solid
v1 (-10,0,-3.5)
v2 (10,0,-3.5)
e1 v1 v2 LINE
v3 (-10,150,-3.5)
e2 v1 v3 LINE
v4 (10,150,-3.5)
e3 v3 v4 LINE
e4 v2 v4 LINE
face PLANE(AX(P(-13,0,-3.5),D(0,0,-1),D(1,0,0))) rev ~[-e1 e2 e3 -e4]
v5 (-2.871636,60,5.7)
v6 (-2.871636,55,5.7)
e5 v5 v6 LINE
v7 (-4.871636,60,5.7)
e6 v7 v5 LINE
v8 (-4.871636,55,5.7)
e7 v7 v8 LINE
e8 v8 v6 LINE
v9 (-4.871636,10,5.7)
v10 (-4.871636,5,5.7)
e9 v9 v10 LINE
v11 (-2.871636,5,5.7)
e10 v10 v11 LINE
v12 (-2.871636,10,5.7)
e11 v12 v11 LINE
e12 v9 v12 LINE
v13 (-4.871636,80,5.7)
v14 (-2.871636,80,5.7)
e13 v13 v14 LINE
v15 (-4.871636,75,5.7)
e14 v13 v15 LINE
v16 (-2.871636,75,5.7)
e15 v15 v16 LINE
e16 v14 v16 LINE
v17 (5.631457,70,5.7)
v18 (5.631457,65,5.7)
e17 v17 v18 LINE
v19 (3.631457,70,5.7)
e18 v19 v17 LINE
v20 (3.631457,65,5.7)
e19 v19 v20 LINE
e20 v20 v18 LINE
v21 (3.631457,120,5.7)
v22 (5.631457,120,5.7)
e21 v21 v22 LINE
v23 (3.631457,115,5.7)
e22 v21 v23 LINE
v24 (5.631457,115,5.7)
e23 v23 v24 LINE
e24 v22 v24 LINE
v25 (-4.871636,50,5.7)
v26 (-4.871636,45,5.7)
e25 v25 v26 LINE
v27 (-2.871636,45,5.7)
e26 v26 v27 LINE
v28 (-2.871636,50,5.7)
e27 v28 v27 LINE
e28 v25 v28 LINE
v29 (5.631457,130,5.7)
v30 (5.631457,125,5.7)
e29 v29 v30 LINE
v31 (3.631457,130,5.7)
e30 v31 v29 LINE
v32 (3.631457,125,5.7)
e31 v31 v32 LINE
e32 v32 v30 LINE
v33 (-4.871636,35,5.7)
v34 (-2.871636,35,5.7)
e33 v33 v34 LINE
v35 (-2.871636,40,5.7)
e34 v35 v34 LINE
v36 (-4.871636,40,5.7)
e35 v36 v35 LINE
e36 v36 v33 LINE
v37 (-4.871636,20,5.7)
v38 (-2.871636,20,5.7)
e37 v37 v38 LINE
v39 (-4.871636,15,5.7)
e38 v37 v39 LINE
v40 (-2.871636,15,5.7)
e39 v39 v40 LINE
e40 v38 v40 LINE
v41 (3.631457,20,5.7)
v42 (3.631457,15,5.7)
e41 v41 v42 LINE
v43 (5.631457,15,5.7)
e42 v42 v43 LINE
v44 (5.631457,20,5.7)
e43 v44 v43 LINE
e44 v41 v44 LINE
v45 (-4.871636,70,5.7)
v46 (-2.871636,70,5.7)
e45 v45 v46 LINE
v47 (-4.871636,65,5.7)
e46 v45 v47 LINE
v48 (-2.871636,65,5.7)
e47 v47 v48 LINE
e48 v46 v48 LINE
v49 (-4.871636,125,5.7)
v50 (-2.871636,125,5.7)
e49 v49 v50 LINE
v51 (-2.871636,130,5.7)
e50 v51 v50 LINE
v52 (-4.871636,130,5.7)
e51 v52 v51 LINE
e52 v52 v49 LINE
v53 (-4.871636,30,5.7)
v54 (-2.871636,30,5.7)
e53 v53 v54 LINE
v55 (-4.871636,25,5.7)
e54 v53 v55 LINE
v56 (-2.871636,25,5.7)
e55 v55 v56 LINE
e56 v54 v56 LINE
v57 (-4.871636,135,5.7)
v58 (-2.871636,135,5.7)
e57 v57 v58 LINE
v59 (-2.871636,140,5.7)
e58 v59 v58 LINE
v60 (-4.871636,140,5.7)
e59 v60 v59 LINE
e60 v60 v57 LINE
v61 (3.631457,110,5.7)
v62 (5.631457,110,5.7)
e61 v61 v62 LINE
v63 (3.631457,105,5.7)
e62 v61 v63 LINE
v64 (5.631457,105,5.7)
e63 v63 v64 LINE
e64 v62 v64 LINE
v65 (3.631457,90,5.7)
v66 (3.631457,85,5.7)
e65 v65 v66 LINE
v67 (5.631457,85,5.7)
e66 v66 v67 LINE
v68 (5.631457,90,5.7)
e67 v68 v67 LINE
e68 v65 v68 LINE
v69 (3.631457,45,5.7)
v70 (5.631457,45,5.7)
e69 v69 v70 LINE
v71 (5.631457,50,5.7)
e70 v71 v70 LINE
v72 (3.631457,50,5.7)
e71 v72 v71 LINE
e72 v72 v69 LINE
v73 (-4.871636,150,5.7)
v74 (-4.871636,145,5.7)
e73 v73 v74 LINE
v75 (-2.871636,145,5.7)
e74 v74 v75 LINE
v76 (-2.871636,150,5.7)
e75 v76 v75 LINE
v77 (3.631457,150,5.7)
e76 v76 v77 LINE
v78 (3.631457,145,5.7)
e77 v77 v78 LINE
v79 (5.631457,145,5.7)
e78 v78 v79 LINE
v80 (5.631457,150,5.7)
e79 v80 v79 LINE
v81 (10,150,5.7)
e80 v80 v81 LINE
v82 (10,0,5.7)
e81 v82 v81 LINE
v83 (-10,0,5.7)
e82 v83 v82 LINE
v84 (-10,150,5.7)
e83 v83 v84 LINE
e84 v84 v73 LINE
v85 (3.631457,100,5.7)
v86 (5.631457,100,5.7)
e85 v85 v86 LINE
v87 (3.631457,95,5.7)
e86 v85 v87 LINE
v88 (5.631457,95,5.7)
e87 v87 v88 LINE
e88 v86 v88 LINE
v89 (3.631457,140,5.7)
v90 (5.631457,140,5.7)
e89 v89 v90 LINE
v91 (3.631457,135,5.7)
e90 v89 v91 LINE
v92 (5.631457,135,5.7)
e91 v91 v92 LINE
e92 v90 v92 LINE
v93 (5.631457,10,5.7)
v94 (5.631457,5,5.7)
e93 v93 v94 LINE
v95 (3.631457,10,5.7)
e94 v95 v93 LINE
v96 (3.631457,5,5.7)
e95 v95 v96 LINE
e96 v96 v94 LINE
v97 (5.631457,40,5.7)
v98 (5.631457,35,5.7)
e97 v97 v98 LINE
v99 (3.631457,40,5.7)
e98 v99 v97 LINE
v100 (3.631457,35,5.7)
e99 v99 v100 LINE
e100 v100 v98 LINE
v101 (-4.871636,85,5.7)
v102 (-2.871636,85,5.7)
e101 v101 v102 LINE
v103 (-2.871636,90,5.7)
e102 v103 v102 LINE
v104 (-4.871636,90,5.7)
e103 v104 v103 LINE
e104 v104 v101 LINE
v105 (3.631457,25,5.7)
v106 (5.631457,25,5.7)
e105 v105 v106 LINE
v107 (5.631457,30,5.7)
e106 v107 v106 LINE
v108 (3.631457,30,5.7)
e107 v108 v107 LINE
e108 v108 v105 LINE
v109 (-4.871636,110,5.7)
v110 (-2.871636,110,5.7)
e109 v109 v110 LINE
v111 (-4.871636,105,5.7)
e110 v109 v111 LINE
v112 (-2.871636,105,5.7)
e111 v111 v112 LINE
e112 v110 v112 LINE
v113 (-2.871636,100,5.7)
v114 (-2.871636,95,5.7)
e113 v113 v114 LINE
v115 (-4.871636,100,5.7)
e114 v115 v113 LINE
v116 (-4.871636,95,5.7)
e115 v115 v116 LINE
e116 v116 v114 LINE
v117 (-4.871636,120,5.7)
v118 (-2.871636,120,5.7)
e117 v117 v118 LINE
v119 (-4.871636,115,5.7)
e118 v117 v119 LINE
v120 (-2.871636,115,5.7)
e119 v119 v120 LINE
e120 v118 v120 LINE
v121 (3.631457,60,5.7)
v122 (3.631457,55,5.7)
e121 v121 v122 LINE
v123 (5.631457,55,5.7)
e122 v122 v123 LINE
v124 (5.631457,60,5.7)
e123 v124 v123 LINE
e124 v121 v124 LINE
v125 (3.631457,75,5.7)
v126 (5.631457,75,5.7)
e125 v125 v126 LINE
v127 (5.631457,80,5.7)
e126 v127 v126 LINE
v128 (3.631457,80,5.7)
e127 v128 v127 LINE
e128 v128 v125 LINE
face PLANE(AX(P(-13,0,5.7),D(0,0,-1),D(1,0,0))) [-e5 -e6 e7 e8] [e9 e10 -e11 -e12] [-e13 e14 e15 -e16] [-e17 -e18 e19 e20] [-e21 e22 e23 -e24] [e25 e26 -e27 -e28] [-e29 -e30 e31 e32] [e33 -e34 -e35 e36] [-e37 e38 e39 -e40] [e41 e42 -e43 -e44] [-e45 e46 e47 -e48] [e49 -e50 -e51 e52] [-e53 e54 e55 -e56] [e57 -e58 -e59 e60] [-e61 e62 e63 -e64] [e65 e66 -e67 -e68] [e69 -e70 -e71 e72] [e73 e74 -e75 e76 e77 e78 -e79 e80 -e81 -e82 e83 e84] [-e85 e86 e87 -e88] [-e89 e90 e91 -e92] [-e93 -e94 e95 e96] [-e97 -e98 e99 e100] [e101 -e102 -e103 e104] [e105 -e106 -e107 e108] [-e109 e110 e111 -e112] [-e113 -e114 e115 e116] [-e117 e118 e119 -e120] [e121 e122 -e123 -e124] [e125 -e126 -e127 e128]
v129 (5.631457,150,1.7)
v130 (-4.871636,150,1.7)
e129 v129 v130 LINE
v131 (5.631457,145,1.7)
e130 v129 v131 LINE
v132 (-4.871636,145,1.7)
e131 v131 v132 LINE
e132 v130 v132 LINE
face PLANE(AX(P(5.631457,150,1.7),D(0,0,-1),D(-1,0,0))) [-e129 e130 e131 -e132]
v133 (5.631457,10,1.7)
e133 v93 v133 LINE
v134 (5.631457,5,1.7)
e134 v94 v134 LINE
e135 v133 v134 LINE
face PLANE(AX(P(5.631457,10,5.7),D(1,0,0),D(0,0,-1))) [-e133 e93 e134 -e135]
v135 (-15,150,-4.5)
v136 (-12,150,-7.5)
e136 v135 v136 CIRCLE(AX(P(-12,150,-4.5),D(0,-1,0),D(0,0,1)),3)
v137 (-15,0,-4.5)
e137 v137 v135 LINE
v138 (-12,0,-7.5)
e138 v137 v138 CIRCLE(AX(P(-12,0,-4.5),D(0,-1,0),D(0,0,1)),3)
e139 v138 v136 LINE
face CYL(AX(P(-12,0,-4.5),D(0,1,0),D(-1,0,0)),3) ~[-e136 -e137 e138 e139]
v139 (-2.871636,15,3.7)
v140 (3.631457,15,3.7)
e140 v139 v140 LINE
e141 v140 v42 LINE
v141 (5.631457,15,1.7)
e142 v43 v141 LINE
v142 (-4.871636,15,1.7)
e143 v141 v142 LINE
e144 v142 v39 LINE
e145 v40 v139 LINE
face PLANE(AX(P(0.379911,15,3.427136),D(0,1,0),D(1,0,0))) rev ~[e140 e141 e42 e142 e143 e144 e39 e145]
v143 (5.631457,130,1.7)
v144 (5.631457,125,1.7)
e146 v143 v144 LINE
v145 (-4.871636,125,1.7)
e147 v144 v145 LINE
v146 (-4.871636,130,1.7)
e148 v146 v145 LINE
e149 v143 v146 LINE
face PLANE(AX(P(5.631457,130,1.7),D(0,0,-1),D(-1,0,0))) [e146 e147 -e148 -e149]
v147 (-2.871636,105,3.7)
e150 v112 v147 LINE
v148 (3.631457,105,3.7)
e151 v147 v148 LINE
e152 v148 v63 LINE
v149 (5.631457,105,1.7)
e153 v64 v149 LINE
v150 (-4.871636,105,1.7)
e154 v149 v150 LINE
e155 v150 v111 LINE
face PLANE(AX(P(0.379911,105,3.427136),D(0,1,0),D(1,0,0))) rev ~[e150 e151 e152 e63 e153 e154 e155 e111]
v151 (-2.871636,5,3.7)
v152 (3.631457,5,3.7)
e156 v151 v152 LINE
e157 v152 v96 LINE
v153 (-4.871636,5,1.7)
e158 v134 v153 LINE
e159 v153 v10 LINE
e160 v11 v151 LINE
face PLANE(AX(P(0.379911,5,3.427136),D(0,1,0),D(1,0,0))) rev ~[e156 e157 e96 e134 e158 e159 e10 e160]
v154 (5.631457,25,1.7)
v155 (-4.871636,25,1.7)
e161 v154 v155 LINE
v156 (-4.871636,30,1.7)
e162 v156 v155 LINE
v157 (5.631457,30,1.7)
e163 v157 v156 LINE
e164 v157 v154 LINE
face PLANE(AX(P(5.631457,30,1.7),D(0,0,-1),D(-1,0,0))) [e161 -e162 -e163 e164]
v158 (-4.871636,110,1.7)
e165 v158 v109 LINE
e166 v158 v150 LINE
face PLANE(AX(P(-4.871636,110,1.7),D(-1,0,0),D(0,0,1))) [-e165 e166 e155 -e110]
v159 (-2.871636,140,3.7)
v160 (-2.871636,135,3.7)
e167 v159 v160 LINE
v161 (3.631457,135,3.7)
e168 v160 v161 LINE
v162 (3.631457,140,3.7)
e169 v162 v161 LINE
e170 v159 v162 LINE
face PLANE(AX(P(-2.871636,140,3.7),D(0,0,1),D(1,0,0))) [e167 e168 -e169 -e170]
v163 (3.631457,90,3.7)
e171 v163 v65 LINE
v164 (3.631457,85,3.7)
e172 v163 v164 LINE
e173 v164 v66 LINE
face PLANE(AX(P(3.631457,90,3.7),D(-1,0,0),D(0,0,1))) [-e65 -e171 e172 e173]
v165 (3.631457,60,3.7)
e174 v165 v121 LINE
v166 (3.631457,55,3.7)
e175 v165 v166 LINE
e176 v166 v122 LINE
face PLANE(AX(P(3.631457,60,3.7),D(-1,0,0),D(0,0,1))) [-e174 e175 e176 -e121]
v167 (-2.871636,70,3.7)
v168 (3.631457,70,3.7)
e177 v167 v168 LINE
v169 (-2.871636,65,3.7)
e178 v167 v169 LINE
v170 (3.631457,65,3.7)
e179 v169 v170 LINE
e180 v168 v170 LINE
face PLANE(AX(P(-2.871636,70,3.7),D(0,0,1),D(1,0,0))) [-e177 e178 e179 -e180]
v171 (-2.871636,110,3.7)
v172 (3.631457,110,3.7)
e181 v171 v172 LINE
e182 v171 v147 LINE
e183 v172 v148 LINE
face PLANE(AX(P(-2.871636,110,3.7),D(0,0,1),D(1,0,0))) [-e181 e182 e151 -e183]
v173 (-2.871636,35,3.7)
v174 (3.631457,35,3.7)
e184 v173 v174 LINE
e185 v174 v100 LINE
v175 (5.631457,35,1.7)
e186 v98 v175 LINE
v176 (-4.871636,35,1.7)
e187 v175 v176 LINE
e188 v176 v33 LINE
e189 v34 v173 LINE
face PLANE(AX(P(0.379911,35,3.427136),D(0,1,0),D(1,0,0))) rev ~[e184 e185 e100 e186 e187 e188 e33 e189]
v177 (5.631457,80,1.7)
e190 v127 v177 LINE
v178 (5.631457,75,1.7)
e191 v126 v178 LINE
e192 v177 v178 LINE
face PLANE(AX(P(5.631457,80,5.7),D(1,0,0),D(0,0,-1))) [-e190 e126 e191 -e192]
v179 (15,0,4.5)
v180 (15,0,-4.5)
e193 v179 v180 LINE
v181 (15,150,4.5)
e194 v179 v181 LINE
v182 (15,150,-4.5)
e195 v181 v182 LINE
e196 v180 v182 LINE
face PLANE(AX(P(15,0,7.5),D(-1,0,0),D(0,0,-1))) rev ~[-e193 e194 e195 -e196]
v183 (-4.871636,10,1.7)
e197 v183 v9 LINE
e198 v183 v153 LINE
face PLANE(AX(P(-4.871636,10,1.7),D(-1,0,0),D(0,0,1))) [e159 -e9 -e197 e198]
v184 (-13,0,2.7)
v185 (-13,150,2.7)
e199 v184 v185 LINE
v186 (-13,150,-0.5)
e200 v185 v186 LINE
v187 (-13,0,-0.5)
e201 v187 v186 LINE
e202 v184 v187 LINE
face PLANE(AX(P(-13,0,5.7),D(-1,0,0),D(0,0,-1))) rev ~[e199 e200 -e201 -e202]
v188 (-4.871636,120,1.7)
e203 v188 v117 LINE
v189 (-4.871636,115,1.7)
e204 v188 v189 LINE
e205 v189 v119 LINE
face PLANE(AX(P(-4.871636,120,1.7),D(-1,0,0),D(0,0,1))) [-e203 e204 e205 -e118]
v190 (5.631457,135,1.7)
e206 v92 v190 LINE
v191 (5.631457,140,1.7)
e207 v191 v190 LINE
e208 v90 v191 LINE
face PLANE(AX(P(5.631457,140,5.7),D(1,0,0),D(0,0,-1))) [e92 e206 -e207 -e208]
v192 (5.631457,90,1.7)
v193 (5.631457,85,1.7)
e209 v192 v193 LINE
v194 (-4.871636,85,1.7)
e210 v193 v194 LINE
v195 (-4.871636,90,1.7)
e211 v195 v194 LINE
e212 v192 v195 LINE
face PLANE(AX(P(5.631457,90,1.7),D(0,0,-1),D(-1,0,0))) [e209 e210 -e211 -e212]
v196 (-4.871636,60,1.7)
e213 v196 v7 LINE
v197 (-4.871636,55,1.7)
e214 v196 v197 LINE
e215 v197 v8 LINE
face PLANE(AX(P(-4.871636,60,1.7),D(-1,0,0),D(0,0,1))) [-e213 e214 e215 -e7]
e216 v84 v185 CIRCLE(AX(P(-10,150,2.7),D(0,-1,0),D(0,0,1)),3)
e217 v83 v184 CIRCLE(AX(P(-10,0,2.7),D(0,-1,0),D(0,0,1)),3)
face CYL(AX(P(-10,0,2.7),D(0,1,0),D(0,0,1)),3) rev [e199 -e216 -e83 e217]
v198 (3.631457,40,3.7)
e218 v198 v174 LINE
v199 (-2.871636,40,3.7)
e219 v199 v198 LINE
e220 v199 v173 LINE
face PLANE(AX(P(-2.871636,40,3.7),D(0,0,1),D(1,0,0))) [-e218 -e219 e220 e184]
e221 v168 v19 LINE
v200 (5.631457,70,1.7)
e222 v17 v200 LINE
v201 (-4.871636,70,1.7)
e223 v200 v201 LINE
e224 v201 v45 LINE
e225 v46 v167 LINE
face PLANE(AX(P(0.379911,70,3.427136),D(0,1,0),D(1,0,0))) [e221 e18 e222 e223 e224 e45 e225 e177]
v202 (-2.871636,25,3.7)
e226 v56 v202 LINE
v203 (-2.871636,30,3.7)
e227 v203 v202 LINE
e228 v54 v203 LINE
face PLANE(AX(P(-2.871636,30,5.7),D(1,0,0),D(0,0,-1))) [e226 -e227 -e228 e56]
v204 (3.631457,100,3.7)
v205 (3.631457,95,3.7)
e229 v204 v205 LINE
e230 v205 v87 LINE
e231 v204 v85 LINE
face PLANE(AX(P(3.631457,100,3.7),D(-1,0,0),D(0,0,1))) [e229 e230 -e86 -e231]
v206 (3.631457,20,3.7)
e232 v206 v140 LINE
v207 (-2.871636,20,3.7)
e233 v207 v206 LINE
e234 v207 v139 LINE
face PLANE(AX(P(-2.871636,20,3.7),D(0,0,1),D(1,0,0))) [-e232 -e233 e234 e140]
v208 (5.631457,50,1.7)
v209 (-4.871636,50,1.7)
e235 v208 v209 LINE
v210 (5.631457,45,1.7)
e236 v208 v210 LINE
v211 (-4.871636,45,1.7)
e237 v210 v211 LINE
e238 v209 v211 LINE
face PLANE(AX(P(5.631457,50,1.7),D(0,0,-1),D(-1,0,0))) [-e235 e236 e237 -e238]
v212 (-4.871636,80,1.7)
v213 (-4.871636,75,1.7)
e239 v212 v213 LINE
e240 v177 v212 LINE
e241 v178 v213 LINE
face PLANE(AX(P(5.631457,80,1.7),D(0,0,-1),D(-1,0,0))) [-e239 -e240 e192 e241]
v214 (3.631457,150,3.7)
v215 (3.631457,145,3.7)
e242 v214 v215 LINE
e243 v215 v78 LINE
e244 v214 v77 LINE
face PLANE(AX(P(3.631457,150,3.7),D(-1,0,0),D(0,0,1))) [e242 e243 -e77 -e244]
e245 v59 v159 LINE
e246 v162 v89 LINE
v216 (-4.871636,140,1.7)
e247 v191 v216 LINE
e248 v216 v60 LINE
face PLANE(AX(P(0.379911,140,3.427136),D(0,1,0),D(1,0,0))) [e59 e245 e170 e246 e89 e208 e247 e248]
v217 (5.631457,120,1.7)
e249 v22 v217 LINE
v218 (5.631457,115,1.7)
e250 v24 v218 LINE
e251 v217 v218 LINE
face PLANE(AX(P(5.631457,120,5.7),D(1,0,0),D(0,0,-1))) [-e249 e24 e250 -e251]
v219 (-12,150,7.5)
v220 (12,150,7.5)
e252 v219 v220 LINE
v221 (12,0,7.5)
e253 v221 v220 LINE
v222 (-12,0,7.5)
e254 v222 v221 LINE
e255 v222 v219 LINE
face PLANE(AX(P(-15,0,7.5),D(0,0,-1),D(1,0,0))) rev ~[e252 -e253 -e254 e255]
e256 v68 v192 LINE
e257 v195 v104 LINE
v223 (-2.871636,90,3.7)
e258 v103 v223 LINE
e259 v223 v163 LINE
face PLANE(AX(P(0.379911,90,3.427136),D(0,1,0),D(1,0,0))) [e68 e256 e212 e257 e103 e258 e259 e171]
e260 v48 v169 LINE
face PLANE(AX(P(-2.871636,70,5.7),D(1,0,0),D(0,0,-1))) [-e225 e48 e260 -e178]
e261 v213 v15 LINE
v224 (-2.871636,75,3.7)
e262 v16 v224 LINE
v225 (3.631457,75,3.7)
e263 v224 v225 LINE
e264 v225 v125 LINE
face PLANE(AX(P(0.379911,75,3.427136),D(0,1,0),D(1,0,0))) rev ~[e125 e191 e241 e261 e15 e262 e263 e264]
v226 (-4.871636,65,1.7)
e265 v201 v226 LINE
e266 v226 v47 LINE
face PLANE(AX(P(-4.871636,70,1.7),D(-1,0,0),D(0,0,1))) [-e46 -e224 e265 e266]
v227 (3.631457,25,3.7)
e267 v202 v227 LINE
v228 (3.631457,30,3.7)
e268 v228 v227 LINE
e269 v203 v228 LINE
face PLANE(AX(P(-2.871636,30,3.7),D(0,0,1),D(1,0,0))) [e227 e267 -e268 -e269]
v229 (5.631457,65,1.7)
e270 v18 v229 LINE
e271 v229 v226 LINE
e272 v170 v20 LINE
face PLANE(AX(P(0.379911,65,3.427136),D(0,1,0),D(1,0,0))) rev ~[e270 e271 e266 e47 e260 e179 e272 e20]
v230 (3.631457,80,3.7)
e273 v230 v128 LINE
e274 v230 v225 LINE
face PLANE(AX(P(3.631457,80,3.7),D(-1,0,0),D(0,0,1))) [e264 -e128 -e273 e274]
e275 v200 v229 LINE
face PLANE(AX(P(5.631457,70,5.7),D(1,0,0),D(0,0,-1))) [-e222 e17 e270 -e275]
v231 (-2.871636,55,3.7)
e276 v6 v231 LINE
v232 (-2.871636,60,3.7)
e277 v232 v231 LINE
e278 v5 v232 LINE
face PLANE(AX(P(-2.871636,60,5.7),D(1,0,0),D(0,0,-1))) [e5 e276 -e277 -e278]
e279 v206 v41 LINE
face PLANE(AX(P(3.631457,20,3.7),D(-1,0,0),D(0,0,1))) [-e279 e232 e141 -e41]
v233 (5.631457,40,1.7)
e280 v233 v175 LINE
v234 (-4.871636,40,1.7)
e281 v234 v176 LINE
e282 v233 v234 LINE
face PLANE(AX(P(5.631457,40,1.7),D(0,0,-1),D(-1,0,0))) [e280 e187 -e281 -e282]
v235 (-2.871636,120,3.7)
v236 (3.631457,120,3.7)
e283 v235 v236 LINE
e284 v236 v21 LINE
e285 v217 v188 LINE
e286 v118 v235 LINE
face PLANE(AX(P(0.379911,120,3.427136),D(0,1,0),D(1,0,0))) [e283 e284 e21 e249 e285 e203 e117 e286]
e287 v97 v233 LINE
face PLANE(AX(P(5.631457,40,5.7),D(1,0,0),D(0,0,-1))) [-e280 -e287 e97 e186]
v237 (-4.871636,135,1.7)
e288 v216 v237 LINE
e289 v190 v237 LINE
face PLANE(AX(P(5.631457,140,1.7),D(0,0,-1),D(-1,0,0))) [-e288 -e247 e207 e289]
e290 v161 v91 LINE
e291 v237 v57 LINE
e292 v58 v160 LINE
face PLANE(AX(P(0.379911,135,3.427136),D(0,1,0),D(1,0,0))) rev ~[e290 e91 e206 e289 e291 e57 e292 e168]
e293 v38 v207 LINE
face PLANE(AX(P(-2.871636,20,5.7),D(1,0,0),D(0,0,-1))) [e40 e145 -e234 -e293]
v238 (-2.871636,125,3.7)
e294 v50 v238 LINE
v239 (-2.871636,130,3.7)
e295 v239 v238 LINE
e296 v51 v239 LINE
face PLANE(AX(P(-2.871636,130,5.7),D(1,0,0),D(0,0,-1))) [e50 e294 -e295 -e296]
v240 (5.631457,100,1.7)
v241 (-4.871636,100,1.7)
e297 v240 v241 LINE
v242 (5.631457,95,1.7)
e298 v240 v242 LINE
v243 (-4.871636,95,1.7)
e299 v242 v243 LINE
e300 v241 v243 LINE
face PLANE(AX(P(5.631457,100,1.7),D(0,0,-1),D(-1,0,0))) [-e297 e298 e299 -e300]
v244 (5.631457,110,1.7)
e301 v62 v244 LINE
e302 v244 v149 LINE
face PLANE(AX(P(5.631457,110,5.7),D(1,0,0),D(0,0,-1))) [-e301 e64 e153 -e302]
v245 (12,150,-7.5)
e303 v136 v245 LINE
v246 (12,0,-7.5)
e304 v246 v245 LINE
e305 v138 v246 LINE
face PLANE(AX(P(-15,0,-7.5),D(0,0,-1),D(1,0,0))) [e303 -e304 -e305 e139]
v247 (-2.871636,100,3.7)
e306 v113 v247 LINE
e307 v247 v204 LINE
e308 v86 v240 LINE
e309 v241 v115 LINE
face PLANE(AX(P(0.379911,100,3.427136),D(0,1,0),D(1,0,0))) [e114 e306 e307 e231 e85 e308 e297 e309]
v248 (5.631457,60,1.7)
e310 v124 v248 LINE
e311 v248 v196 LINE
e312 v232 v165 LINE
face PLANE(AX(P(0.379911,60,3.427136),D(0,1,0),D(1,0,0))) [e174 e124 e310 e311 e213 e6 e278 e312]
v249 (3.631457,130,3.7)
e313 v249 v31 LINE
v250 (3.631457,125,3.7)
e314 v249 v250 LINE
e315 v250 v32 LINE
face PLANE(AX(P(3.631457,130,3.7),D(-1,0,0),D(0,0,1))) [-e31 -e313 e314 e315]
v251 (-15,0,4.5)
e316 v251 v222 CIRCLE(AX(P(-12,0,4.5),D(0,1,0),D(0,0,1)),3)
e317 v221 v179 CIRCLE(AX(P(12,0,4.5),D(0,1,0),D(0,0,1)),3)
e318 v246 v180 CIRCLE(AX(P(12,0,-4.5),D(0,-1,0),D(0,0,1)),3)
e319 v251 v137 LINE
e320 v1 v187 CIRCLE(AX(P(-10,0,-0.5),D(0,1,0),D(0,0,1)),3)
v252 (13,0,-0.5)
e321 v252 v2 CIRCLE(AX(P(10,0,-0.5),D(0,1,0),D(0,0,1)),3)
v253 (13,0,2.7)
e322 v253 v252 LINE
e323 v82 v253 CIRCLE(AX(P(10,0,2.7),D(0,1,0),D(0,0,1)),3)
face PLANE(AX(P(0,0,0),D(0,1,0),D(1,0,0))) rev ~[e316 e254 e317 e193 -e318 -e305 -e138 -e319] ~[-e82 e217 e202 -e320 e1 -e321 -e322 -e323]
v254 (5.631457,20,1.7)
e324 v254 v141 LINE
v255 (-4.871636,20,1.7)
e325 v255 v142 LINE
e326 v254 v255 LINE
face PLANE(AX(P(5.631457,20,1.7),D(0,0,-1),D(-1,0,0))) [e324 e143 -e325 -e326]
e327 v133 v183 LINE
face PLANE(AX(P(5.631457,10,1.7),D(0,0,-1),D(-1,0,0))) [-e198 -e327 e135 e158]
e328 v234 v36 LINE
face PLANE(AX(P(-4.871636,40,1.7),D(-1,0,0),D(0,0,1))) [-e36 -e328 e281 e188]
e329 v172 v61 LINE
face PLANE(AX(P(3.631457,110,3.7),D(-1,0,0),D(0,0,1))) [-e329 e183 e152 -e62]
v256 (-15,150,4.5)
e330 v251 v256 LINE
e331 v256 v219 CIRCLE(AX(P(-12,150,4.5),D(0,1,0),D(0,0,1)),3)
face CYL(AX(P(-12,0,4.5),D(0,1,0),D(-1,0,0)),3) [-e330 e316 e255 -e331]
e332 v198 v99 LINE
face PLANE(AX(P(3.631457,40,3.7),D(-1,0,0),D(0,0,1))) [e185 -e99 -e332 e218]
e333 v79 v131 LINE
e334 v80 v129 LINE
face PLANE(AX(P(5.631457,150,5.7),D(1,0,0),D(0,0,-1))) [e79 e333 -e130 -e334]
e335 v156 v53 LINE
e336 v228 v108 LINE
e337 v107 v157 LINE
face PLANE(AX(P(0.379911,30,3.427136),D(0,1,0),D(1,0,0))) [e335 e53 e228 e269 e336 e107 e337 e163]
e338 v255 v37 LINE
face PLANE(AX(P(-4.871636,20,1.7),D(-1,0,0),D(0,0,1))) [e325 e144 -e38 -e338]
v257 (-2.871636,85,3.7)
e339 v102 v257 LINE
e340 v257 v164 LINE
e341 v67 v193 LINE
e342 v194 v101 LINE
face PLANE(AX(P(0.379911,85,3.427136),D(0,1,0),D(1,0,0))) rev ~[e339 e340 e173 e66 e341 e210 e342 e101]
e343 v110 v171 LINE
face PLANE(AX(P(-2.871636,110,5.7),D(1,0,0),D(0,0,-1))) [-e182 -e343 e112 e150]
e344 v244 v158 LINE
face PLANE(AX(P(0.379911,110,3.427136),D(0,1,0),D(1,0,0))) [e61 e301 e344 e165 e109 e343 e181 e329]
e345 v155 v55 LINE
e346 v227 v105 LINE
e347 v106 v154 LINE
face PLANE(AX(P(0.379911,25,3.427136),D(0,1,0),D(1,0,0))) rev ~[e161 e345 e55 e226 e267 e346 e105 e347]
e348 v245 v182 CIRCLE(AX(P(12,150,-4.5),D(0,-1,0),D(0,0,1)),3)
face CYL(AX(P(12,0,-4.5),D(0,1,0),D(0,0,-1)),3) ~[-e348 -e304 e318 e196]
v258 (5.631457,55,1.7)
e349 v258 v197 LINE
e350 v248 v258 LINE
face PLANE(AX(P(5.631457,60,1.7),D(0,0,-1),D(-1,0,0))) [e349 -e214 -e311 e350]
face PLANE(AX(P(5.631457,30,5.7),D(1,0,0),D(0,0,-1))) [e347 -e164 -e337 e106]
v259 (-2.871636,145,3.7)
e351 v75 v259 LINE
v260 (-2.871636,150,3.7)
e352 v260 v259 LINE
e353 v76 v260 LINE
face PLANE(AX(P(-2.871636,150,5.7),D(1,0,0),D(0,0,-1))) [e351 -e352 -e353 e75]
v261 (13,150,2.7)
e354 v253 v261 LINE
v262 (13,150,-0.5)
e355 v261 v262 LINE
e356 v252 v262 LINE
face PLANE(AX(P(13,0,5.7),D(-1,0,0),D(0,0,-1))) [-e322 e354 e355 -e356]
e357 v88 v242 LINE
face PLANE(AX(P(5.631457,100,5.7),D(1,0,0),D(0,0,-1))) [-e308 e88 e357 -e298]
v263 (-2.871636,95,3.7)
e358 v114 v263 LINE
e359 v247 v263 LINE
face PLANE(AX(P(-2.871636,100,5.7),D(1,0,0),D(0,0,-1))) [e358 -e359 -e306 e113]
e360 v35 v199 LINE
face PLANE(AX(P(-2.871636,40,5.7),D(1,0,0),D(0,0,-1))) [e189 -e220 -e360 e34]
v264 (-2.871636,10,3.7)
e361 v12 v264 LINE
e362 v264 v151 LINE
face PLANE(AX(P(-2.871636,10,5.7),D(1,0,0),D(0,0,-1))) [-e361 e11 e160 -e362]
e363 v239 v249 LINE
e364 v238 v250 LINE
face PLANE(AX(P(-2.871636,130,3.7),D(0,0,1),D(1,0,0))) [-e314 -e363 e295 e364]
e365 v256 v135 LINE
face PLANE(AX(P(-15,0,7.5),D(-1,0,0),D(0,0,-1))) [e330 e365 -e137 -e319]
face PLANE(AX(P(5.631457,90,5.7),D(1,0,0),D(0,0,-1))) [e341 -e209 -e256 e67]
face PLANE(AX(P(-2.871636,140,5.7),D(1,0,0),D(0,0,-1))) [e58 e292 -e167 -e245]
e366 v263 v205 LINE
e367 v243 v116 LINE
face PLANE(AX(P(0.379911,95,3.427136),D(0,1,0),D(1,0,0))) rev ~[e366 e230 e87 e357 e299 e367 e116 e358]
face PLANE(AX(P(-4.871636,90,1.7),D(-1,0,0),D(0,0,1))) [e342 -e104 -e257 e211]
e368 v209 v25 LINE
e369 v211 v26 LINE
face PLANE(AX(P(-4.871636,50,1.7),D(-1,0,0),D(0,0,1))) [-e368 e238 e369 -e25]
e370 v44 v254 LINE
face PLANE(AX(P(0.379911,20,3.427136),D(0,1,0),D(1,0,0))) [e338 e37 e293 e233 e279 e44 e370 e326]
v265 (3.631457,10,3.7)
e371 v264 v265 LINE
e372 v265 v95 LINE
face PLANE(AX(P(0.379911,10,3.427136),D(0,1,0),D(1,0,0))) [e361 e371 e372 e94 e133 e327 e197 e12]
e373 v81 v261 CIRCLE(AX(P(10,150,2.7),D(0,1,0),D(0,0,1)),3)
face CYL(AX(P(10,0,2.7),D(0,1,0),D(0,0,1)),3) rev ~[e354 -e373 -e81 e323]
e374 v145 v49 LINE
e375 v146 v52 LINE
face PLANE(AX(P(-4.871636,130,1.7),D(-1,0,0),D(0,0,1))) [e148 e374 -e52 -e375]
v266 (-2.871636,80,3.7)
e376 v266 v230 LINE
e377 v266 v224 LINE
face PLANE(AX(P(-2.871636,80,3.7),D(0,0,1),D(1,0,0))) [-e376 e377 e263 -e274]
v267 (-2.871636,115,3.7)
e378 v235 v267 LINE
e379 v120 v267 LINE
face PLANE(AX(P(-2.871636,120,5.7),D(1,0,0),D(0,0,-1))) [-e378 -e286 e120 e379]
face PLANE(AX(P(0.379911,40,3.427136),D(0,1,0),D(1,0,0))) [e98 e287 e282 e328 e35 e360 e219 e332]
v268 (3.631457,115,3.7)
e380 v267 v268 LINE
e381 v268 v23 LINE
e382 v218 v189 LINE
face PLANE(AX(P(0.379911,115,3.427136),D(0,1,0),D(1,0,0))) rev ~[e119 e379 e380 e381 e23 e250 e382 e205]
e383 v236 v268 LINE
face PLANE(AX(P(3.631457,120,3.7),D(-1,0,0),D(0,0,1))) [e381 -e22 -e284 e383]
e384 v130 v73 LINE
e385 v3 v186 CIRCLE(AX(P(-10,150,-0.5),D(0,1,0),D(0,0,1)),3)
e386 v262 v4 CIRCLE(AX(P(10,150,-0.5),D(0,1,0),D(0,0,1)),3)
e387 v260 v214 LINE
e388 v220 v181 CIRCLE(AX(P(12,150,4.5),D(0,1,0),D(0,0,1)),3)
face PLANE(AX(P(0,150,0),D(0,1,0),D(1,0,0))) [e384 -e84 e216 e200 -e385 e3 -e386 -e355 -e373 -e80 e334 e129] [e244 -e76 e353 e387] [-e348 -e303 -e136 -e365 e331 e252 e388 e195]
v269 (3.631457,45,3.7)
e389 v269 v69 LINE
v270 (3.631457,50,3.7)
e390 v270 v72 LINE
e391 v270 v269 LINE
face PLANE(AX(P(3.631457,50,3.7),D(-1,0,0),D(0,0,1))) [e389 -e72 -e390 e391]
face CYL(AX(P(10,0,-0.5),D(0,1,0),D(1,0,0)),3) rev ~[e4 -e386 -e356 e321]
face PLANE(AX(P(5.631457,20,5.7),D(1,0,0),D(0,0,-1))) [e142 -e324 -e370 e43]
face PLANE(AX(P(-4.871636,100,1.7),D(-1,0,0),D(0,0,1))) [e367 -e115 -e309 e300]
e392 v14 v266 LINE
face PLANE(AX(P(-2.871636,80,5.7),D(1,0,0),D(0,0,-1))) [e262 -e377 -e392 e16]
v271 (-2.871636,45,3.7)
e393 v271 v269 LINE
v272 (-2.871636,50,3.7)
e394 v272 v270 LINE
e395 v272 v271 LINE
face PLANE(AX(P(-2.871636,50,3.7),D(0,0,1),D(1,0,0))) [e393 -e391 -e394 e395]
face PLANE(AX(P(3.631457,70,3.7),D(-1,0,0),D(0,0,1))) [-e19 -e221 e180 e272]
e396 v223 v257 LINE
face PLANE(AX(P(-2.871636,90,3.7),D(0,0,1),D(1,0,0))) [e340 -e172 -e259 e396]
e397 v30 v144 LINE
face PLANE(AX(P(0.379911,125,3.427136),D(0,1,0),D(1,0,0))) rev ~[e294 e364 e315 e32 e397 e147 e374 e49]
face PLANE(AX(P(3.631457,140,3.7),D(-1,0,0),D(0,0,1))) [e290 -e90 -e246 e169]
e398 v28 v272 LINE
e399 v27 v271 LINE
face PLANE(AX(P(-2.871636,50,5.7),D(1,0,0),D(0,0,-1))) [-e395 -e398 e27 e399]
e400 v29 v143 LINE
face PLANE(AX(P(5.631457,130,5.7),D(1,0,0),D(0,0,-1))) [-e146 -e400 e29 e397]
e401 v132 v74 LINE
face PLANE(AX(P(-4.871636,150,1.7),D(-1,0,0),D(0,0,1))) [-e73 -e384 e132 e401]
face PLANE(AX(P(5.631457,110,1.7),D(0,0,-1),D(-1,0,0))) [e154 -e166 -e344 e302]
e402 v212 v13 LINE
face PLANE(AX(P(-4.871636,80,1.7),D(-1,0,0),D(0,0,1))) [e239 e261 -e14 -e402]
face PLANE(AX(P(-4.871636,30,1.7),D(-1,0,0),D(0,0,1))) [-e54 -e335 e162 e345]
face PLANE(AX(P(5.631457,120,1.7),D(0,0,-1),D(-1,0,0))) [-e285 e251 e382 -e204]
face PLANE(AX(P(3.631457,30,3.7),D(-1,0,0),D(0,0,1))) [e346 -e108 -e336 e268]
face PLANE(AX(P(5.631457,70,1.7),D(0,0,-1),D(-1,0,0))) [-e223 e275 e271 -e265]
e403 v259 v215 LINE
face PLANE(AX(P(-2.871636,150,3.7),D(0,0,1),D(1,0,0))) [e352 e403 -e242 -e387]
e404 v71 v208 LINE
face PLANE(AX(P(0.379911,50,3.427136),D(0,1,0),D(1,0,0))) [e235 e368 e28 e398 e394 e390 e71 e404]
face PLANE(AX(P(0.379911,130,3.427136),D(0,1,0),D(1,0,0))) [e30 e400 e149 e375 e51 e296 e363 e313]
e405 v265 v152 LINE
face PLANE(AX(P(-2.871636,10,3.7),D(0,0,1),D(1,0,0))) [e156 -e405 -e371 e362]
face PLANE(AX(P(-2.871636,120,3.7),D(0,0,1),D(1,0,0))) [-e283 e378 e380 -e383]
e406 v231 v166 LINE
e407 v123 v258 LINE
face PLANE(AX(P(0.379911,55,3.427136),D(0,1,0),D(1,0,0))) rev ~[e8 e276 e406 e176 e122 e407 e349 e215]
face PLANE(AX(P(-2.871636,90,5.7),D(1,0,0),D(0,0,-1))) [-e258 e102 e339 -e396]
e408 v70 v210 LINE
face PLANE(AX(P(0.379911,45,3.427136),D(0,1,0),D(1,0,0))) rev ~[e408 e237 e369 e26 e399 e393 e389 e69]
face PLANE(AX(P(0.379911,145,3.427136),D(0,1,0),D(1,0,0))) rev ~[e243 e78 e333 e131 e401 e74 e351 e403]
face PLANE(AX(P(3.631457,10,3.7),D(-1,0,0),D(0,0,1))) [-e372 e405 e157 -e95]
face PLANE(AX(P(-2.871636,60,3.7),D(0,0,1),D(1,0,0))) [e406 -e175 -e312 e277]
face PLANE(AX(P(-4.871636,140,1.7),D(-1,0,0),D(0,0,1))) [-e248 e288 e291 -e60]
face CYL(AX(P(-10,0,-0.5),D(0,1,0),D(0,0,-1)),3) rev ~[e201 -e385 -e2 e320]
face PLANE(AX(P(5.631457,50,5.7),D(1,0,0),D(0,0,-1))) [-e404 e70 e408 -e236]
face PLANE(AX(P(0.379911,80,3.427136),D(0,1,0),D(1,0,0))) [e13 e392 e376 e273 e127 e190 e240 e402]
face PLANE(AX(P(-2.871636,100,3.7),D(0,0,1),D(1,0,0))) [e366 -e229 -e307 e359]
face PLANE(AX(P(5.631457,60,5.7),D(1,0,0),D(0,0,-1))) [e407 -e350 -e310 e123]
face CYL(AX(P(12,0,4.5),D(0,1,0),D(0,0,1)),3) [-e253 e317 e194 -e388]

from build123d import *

# Parameters (mm, degrees)
SKETCH2_W           = 30
SKETCH2_H           = 15
SKETCH2_W_2         = 26
SKETCH2_H_2         = 9.2
BOSS_EXTRUDE1_DEPTH = 150
BOSS_EXTRUDE2_DEPTH = 5
FILLET1_R           = 3
LPATTERN1_COUNT     = 15
LPATTERN1_PITCH     = 10


with BuildPart() as part:
    # Sketch2 → Boss-Extrude1 (new body)
    with BuildSketch(Plane(origin=(0, 0, 0), x_dir=(1, 0, 0), z_dir=(0, 1, 0))):
        Rectangle(SKETCH2_W, SKETCH2_H)
        with Locations((0, -1.1)):
            Rectangle(SKETCH2_W_2, SKETCH2_H_2, mode=Mode.SUBTRACT)
    extrude(amount=BOSS_EXTRUDE1_DEPTH)

    # Sketch3 → Boss-Extrude2 (add)
    with BuildSketch(Plane(origin=(0, 150, 0), x_dir=(1, 0, 0), z_dir=(0, 1, 0))):
        Polygon((-2.87163554, -5.7), (-2.87163554, -3.7), (3.631457211, -3.7), (3.631457211, -5.7), (5.631457211, -5.7), (5.631457211, -1.7), (-4.87163554, -1.7), (-4.87163554, -5.7), align=None)
    boss_extrude2 = extrude(amount=-BOSS_EXTRUDE2_DEPTH)

    # Fillet1
    fillet1_edges = [part.edges().sort_by_distance(p)[0] for p in [
        (-13, 75, -3.5),
        (-13, 75, 5.7),
        (13, 75, 5.7),
        (13, 75, -3.5),
        (-15, 75, -7.5),
        (15, 75, -7.5),
        (15, 75, 7.5),
        (-15, 75, 7.5),
    ]]
    fillet(fillet1_edges, radius=FILLET1_R)

    # LPattern1: Boss-Extrude2 ×15
    with Locations(*[(0, -i * LPATTERN1_PITCH, 0) for i in range(1, LPATTERN1_COUNT)]):
        add(boss_extrude2)


solid = part.part
